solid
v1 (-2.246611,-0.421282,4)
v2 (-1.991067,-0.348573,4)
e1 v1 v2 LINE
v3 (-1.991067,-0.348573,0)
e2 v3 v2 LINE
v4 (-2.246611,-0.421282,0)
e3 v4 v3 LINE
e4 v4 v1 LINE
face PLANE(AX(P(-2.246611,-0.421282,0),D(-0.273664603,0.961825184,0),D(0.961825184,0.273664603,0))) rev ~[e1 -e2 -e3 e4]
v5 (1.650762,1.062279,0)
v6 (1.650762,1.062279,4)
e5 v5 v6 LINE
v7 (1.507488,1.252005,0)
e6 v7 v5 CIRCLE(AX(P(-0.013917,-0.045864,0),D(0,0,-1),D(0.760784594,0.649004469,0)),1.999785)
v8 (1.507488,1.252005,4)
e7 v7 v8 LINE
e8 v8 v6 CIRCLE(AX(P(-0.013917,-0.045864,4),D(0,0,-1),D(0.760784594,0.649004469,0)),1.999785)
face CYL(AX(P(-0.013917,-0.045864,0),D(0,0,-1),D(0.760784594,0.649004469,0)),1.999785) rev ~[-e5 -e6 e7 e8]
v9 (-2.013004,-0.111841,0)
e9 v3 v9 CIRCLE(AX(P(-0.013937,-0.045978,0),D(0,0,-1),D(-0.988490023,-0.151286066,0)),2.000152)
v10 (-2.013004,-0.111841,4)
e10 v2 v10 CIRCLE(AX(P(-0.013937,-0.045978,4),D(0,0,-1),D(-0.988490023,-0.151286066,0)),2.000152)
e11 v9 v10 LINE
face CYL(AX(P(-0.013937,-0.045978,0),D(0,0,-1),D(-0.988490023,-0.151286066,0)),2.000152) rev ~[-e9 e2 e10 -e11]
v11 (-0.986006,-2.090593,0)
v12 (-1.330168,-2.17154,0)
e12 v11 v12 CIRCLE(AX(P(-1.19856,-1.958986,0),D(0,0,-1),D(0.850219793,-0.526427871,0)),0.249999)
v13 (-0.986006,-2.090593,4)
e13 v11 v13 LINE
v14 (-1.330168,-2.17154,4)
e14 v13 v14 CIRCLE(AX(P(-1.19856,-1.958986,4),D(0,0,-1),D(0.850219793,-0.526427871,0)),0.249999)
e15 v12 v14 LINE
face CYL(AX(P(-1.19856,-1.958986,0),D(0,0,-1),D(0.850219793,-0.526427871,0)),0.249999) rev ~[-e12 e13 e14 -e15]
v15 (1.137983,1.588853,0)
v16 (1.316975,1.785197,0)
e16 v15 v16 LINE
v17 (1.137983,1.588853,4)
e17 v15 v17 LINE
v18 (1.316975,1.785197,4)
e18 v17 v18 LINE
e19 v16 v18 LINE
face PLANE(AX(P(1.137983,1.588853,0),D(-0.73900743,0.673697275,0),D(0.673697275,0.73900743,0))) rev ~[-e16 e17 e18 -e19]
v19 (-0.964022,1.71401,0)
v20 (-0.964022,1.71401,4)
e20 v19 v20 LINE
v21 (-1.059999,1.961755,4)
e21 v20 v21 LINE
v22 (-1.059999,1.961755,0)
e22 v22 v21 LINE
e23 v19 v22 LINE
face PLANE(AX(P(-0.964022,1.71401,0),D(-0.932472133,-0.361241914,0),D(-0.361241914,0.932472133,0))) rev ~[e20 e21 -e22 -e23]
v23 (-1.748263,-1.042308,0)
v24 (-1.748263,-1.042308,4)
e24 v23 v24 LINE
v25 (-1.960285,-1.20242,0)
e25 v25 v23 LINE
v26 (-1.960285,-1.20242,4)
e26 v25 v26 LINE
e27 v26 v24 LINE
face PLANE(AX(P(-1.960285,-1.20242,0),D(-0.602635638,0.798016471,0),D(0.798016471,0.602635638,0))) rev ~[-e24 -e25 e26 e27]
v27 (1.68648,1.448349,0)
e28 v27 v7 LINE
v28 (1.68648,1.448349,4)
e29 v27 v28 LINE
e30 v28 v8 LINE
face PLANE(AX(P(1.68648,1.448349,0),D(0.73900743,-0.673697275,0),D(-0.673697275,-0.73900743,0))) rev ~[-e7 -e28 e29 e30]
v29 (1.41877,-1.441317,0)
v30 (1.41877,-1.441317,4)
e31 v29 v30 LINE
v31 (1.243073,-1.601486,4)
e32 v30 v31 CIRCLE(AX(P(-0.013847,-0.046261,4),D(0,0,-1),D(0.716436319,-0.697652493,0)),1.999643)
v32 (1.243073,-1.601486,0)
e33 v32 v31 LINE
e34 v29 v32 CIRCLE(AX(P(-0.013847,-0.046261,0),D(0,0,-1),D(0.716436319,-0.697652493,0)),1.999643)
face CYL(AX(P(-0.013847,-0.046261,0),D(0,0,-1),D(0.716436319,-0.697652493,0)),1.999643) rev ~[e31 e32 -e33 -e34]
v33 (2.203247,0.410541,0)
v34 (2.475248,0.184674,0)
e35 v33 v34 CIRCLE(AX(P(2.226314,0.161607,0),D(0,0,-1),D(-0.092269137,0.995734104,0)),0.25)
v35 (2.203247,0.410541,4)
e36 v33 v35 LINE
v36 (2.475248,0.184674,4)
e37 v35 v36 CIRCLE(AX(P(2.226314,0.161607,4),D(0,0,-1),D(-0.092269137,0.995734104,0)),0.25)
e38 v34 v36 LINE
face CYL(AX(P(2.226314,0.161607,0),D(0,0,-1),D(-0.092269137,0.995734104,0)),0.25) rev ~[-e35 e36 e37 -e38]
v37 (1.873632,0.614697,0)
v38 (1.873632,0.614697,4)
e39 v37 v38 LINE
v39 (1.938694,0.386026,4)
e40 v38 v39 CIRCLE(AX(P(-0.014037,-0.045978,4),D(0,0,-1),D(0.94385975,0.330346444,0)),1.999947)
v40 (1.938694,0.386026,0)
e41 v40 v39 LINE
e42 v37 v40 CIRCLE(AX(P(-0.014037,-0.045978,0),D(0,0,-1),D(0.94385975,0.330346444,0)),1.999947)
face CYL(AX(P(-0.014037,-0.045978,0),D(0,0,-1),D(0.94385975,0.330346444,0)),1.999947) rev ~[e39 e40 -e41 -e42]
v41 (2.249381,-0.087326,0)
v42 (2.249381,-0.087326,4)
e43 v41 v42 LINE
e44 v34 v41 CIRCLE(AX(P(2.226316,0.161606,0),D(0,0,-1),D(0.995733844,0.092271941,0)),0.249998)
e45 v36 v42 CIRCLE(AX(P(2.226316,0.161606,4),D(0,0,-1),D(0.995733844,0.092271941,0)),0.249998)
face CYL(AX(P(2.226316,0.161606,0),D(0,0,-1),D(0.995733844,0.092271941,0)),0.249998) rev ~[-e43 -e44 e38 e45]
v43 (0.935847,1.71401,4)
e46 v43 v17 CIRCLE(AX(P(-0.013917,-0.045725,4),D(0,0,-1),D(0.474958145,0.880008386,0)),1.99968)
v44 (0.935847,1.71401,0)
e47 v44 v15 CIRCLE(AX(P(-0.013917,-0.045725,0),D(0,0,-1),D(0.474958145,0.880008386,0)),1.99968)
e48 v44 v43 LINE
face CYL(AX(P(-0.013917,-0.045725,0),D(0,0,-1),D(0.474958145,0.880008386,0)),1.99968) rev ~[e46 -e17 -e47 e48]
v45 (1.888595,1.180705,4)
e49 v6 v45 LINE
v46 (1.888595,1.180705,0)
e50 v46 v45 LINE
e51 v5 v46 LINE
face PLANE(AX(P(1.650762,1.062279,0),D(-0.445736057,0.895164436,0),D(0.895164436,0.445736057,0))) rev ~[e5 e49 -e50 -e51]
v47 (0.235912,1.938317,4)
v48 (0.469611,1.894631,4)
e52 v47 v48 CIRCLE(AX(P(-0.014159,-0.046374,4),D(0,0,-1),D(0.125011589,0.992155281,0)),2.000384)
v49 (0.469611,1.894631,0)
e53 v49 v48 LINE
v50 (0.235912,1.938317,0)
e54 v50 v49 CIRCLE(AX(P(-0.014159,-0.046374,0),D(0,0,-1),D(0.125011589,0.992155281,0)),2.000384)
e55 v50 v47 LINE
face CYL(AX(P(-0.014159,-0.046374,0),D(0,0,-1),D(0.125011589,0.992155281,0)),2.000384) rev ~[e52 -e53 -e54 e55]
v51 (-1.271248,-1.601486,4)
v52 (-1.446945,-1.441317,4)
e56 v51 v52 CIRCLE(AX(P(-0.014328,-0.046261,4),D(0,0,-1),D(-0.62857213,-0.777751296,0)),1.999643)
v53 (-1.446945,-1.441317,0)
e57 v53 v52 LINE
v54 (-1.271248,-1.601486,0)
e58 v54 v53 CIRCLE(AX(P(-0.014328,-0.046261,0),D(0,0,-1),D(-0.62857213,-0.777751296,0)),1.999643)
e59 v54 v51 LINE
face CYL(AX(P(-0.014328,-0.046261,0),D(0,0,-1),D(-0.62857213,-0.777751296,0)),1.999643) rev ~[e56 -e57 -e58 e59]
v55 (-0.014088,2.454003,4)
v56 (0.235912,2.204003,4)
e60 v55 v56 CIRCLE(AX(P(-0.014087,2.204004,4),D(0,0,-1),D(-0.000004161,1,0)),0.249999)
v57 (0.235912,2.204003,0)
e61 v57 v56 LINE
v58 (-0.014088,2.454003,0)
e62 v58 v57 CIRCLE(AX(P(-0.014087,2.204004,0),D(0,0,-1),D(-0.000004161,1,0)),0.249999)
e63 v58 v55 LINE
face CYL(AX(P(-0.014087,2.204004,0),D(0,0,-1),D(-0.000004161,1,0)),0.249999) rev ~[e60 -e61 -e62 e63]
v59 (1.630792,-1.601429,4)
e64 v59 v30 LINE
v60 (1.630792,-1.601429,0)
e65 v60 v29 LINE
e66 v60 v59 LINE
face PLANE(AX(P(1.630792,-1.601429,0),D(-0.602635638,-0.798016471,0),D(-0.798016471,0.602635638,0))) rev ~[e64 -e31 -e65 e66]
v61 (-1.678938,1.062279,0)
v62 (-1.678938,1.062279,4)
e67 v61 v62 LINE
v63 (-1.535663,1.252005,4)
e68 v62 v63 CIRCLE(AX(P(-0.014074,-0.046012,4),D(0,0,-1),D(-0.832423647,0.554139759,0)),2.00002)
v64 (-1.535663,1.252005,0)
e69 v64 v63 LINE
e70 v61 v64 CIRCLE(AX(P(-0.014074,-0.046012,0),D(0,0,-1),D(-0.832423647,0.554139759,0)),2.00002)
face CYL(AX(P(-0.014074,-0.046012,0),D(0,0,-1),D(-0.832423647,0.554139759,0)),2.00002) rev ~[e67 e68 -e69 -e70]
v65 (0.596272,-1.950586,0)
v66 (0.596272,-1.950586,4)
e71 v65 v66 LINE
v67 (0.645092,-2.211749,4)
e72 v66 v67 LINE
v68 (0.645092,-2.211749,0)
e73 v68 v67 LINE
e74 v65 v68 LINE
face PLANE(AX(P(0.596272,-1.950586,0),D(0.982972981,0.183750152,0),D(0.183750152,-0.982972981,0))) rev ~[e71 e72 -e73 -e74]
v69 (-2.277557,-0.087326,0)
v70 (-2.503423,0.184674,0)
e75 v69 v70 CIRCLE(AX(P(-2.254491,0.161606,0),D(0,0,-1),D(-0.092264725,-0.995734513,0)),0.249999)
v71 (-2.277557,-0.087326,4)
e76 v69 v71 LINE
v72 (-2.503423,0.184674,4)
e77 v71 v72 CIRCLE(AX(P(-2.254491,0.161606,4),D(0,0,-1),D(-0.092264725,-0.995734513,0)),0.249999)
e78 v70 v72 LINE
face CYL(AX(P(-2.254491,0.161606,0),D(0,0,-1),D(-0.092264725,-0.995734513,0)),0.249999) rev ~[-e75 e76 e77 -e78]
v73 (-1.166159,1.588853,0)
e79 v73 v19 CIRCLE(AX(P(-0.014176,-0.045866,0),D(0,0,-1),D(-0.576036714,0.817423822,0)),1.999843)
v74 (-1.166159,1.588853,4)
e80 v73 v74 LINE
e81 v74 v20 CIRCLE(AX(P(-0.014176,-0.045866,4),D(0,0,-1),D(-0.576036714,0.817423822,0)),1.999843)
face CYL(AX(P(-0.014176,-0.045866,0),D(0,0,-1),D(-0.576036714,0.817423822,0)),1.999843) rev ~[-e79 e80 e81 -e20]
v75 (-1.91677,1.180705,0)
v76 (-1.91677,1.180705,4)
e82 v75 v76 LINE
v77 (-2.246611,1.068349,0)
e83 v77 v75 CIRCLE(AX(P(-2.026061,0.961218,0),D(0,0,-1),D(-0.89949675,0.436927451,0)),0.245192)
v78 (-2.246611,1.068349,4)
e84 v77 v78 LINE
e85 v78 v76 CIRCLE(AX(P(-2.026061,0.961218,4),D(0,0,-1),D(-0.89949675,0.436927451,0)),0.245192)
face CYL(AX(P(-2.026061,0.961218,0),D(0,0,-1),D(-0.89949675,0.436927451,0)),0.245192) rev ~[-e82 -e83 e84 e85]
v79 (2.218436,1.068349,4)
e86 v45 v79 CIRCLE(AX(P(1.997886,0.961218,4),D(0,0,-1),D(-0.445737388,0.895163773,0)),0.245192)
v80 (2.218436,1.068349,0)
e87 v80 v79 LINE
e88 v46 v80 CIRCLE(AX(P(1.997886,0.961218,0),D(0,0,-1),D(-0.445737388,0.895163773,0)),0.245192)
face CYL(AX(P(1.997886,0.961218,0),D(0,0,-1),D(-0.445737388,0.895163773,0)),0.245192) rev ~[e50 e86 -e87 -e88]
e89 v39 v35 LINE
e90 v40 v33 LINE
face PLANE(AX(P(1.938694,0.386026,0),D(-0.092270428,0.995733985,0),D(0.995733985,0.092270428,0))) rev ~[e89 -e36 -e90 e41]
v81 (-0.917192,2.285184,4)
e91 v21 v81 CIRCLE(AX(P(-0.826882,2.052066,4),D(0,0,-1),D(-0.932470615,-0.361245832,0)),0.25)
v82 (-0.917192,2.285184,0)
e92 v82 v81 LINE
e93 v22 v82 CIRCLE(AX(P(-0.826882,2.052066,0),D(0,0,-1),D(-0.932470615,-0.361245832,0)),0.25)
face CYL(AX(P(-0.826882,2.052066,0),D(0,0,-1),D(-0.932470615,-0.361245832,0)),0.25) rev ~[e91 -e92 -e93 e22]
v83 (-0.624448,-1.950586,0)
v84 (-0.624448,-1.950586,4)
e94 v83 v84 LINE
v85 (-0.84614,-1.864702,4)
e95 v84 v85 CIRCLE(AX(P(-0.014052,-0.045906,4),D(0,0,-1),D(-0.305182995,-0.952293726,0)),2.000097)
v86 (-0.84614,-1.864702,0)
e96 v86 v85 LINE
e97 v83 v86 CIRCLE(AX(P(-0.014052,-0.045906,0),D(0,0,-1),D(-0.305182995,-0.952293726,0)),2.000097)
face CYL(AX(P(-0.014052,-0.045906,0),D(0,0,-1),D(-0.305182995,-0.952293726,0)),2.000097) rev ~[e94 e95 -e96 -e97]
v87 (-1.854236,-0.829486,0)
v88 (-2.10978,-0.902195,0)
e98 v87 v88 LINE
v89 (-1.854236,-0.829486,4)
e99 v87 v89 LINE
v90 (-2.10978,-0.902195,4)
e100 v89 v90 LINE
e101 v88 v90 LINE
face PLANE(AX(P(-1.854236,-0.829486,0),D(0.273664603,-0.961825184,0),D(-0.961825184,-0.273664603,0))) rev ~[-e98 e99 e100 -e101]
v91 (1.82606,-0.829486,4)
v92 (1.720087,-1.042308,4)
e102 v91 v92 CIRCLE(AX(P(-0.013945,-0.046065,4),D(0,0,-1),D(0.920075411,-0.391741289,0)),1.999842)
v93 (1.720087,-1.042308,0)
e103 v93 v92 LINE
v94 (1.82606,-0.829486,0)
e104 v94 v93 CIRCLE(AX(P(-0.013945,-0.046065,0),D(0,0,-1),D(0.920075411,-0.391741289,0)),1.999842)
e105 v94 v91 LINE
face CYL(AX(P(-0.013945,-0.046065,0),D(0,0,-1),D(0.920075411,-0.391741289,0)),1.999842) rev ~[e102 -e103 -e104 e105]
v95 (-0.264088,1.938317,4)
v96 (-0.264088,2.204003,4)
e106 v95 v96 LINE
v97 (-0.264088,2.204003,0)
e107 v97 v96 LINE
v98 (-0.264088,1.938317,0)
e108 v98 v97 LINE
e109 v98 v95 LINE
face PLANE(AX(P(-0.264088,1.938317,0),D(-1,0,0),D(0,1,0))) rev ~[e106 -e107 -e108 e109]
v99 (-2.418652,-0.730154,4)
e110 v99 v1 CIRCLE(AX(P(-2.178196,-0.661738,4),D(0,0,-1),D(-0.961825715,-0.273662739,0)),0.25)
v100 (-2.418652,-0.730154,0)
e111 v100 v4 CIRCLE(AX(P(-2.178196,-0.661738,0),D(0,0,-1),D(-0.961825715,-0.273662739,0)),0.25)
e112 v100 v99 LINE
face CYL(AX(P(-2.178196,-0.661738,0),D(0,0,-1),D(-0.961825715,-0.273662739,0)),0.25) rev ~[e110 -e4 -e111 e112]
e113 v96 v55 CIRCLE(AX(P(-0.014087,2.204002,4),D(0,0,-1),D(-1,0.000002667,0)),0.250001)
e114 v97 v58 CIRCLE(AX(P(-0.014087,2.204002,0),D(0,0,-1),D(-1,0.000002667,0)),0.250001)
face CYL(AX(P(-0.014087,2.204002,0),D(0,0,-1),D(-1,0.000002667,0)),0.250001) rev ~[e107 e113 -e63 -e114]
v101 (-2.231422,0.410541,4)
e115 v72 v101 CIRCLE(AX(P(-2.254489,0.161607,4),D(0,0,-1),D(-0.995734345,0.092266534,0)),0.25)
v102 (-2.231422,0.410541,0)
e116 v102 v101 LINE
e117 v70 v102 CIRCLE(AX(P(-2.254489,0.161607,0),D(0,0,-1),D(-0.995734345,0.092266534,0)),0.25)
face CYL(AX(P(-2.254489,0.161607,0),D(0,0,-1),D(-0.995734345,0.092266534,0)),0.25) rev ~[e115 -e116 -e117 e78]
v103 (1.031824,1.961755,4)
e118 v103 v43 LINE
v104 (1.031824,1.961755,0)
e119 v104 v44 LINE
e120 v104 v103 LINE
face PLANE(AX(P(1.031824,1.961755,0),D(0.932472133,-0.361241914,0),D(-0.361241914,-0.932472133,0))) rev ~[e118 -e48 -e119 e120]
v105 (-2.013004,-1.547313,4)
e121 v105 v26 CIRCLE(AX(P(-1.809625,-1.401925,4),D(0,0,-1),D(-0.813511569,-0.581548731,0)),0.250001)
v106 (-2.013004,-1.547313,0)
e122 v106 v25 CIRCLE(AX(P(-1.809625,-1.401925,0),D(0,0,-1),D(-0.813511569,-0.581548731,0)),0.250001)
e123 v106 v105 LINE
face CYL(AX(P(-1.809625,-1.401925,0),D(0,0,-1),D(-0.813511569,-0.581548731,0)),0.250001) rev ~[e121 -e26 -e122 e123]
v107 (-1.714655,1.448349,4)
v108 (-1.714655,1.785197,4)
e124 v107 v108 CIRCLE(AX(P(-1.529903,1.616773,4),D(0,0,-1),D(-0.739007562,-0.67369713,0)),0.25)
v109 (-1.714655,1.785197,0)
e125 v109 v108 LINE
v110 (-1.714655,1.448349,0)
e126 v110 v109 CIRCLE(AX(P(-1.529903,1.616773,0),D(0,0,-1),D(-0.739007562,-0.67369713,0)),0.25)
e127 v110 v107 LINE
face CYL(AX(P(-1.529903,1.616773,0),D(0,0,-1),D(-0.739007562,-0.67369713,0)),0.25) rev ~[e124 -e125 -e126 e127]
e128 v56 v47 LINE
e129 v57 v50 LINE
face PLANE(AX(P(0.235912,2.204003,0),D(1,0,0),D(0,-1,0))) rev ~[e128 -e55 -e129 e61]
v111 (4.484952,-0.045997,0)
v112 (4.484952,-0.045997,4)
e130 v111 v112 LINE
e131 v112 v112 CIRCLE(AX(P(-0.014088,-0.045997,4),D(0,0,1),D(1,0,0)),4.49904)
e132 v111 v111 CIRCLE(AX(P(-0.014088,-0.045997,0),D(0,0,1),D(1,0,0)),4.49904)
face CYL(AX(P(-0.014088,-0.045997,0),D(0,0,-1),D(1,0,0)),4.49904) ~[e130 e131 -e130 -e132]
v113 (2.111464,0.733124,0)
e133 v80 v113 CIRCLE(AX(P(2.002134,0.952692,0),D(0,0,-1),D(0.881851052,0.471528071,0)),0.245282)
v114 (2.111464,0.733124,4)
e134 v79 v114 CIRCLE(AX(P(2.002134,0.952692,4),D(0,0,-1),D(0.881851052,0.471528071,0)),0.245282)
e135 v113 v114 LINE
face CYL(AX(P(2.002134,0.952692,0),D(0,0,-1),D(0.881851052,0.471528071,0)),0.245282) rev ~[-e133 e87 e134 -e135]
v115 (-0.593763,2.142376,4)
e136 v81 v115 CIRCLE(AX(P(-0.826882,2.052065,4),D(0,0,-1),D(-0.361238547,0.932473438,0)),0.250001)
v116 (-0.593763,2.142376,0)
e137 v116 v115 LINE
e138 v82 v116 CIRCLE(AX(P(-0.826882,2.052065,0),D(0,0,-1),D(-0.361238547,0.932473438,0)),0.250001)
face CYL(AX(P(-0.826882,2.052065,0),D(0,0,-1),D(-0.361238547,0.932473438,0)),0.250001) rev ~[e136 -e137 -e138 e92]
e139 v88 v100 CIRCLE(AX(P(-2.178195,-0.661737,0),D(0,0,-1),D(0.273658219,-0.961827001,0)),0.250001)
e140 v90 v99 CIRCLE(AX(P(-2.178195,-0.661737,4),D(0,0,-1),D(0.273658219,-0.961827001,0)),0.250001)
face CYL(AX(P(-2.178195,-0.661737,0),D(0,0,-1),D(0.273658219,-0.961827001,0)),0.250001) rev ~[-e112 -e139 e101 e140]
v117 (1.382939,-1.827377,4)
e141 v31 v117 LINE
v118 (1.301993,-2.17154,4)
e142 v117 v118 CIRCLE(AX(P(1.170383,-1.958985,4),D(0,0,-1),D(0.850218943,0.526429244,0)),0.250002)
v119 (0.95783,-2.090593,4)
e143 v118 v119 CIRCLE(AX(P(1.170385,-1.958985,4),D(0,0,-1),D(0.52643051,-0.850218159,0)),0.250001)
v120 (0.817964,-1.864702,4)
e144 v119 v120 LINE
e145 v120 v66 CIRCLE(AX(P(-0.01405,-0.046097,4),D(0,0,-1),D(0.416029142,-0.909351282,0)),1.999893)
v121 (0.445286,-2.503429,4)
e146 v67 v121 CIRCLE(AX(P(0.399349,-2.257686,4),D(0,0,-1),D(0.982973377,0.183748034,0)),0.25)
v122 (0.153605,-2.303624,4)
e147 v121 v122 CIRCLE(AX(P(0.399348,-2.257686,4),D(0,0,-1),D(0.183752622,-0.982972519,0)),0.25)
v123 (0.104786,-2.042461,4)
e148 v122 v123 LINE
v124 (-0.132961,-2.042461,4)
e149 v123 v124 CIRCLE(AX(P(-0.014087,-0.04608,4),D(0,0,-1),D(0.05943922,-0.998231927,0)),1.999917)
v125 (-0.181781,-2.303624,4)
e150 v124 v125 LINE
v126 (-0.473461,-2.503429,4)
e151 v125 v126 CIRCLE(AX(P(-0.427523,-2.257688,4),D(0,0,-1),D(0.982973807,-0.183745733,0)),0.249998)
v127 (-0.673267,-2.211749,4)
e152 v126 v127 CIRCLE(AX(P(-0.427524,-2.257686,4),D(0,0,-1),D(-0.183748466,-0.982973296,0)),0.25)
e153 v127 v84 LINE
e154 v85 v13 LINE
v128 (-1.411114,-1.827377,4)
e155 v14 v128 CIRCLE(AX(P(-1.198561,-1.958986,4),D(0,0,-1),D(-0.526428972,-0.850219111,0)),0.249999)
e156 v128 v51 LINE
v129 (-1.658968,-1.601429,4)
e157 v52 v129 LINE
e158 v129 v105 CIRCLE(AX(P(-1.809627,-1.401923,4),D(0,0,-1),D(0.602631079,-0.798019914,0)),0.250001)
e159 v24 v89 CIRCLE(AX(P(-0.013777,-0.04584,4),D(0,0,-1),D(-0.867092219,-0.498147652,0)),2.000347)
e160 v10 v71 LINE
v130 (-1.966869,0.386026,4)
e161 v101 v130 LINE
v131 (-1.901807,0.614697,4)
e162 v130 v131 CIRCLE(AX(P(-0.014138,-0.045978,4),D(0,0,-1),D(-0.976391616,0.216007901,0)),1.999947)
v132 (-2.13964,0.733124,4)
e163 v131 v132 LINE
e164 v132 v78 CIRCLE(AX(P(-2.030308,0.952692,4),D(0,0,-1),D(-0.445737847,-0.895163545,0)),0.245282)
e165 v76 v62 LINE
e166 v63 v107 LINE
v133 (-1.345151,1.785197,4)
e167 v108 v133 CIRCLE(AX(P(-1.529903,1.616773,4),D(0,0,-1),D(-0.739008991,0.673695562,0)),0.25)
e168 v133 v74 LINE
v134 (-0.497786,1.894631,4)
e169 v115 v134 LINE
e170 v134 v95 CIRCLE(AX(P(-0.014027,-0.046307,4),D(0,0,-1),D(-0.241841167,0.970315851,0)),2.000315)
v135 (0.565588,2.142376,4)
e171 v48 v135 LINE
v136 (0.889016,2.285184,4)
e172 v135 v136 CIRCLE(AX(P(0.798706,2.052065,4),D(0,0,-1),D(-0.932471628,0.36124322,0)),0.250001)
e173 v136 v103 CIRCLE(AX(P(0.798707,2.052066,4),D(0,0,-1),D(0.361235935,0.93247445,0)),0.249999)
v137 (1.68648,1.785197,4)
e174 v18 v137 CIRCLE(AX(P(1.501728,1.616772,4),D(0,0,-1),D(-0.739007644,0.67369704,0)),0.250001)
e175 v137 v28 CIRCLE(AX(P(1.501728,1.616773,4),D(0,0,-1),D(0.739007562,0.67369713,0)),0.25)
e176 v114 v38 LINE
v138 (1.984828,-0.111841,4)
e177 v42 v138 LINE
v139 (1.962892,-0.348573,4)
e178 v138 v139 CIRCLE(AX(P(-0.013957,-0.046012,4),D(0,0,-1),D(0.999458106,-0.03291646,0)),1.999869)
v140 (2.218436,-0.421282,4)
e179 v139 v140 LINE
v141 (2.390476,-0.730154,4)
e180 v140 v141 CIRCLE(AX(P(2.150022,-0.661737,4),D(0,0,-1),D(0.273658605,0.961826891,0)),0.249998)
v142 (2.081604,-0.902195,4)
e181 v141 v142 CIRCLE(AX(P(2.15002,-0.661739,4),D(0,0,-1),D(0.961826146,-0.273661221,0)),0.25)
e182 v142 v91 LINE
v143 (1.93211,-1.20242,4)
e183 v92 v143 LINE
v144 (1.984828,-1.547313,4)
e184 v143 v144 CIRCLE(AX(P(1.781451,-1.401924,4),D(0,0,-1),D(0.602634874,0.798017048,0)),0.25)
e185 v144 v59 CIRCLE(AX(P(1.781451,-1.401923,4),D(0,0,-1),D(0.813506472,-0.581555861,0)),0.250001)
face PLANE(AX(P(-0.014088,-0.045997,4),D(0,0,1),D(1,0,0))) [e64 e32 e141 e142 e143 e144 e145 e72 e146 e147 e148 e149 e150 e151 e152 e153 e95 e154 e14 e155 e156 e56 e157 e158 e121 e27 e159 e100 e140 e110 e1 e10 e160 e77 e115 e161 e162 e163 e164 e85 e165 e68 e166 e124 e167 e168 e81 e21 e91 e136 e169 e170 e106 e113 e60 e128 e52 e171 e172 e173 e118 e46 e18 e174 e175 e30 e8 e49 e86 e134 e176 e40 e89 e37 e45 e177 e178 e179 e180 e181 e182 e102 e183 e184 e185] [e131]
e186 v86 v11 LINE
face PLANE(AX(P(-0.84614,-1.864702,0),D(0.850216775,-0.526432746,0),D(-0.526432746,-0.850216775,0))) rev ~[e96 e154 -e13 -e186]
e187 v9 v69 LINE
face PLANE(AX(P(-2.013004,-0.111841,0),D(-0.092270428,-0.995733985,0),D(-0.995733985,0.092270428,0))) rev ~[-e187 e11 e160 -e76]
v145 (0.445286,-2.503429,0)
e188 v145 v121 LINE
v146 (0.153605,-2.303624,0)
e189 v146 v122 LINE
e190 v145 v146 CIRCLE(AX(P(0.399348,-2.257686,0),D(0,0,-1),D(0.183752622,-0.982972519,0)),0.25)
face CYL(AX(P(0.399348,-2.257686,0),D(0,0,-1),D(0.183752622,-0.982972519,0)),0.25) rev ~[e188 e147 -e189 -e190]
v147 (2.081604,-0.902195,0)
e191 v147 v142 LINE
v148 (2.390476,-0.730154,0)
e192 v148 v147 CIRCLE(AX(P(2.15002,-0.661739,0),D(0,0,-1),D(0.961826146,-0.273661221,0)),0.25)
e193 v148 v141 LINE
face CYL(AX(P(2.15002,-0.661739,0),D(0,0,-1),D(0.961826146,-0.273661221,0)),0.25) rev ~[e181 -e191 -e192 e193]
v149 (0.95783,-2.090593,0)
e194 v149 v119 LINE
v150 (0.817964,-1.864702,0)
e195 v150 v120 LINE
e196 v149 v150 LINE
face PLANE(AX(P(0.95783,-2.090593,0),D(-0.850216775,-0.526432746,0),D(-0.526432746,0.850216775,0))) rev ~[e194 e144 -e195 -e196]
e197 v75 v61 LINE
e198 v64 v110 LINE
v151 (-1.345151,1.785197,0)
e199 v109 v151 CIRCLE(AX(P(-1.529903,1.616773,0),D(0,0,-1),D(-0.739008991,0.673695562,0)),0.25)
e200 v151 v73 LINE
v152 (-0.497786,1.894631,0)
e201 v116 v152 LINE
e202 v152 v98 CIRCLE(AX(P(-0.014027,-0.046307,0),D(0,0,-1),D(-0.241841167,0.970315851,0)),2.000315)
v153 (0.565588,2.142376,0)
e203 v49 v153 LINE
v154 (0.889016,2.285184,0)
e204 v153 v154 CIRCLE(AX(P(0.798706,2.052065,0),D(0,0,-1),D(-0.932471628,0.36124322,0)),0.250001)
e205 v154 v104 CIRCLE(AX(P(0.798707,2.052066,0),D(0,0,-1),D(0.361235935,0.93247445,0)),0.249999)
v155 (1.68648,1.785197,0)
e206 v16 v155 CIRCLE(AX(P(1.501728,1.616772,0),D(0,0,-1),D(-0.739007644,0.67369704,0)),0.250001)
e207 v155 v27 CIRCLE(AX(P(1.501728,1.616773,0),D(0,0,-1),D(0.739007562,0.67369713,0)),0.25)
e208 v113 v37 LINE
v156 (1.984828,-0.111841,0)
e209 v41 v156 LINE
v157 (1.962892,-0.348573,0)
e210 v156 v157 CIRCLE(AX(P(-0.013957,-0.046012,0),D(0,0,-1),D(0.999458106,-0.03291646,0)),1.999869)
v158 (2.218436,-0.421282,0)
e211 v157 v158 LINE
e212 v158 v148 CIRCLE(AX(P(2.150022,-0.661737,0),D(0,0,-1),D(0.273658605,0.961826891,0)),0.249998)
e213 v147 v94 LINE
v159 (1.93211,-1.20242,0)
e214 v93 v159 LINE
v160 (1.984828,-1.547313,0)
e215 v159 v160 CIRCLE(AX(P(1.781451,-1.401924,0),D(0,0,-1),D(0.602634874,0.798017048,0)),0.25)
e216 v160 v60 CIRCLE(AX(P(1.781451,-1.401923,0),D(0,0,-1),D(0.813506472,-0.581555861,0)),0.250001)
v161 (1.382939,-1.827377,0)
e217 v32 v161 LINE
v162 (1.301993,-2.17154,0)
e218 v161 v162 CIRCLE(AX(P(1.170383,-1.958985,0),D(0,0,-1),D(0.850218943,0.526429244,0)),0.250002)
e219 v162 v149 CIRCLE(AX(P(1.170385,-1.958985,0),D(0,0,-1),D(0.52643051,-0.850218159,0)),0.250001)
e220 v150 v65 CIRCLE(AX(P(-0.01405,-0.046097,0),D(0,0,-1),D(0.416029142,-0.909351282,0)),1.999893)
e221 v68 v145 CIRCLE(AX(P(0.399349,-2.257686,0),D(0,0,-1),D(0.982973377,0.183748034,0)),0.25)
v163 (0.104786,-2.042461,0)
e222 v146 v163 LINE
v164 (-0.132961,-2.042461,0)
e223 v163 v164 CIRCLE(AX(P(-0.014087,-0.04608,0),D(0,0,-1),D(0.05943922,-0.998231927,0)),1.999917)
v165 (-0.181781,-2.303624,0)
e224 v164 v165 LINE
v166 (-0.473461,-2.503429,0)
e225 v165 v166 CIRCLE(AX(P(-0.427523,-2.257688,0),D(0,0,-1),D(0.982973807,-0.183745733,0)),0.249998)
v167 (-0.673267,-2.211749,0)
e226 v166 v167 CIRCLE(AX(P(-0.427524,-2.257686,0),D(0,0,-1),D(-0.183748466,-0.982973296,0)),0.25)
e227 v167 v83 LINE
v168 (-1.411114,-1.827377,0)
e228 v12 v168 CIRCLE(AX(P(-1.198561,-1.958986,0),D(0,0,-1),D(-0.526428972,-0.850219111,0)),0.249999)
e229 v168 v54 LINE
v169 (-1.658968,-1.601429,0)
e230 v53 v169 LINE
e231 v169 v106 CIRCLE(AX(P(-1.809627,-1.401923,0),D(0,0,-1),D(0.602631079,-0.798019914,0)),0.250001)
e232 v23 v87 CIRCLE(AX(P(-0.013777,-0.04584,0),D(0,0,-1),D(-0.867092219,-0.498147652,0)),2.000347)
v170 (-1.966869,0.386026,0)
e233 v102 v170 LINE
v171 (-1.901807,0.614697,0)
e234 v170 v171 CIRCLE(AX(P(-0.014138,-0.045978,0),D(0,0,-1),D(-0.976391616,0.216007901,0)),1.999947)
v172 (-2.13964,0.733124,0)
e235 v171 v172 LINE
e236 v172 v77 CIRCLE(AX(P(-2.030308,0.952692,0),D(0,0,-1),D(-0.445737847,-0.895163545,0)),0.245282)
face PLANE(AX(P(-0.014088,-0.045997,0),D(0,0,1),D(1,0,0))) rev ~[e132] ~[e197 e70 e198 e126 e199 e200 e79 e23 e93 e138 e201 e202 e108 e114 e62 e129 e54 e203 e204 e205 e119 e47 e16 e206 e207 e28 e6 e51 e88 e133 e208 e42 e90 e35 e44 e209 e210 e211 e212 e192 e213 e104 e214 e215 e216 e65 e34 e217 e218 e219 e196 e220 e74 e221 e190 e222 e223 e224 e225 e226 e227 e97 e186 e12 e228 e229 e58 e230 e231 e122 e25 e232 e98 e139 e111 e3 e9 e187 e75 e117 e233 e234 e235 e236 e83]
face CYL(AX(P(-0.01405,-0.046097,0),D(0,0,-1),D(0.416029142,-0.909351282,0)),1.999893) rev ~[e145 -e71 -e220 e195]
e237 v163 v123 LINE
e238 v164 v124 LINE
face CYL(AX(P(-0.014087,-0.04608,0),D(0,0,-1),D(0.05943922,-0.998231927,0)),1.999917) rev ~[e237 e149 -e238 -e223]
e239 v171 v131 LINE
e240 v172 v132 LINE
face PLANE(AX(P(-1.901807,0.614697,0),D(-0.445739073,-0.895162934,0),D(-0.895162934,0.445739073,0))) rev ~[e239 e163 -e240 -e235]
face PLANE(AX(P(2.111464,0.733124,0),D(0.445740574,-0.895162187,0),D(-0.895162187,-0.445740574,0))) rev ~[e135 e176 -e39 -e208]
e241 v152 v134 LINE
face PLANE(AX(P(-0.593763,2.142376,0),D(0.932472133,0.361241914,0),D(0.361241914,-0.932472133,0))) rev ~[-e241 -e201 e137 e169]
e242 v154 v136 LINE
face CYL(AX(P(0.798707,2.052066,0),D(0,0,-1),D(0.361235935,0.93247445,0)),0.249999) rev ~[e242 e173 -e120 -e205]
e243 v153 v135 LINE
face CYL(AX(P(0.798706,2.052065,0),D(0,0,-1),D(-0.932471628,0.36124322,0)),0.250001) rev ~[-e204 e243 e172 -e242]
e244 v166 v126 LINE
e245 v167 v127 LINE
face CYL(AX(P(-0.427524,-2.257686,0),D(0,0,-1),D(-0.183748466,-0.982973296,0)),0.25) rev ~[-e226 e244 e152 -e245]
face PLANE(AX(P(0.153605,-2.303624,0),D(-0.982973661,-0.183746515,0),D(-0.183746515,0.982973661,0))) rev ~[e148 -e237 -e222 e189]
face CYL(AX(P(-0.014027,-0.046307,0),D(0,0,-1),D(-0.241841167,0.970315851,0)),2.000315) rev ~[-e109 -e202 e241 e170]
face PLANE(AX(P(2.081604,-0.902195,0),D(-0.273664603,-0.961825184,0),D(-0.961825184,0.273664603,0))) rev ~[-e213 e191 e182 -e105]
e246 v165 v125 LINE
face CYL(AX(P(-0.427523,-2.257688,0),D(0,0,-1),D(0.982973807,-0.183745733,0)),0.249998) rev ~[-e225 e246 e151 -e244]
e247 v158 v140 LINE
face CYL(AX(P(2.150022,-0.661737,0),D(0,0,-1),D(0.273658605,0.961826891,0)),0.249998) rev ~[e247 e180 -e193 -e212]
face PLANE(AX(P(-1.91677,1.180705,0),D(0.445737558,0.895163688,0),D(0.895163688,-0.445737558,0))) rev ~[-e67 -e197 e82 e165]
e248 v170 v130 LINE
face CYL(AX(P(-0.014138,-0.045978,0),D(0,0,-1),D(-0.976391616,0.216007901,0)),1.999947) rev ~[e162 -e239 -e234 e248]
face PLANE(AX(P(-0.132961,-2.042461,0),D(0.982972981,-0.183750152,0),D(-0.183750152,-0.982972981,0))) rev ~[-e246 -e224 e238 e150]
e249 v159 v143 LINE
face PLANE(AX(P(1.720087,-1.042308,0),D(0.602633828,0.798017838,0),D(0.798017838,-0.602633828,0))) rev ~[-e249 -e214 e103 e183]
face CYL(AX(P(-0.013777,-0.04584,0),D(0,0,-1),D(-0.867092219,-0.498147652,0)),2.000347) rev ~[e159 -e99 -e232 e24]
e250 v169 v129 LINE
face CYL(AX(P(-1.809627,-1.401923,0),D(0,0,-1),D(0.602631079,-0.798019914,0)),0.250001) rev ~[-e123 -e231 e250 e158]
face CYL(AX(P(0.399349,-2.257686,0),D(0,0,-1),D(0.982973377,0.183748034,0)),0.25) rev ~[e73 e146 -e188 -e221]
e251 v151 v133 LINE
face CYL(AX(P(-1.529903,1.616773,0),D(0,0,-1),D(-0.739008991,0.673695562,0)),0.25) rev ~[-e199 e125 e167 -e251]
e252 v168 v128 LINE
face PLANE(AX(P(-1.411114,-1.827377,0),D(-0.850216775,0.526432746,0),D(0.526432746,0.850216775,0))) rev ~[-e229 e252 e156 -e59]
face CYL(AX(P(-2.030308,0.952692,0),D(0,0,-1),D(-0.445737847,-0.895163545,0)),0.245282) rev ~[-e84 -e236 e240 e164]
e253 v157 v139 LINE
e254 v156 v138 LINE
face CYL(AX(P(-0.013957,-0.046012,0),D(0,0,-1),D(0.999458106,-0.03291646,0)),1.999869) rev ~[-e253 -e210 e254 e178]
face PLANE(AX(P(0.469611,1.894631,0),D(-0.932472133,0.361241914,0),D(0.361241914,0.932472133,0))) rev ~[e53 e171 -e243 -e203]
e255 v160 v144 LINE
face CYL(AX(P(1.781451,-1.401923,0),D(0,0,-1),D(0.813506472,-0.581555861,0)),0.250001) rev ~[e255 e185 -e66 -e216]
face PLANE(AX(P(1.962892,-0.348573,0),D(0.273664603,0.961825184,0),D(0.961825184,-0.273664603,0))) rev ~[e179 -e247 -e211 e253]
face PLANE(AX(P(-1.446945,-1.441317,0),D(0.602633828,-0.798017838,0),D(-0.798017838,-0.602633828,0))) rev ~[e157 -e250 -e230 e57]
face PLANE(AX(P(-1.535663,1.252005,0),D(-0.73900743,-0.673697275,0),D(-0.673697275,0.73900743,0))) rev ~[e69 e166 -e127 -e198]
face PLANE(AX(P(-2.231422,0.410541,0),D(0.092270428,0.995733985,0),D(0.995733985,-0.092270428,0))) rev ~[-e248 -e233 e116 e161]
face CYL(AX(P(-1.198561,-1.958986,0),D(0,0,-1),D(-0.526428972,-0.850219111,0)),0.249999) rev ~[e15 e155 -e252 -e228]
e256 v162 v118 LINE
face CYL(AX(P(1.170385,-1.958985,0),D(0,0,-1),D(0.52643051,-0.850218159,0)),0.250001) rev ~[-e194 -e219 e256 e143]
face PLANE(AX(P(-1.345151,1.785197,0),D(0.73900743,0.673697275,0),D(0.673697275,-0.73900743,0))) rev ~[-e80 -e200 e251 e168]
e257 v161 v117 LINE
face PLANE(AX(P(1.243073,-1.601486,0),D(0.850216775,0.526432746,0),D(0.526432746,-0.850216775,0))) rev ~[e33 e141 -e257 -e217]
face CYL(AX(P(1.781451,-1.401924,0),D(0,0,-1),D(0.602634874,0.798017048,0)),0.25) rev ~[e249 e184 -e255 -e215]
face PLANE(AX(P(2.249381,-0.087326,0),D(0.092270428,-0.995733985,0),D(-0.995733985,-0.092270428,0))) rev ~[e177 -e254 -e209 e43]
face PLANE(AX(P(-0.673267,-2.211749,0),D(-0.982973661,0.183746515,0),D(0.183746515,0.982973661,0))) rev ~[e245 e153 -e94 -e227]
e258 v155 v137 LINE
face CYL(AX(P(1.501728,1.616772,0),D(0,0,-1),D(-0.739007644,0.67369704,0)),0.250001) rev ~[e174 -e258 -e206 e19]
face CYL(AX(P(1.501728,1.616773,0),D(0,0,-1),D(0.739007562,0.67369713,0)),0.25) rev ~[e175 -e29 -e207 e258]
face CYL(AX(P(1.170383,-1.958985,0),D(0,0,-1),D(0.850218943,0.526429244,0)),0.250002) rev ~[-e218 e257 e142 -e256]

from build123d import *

# Parameters (mm, degrees)
F0_R     = 4.49904
F1_DEPTH = 4


with BuildPart() as f1:
    # F0 (on Top) → F1 (new body)
    with BuildSketch(Plane.XY):
        with Locations((-0.014088, -0.045997)):
            Circle(F0_R)
        with BuildLine():
            ThreePointArc((1.873632, 0.614697), (1.909564, 0.501329), (1.938694, 0.386026))
            Line((1.938694, 0.386026), (2.203247, 0.410541))
            ThreePointArc((2.203247, 0.410541), (2.386026, 0.353941), (2.475248, 0.184674))
            ThreePointArc((2.475248, 0.184674), (2.418648, 0.001895), (2.249381, -0.087326))
            Line((2.249381, -0.087326), (1.984828, -0.111841))
            ThreePointArc((1.984828, -0.111841), (1.977381, -0.230533), (1.962892, -0.348573))
            Line((1.962892, -0.348573), (2.218436, -0.421282))
            ThreePointArc((2.218436, -0.421282), (2.368426, -0.540087), (2.390476, -0.730154))
            ThreePointArc((2.390476, -0.730154), (2.271671, -0.880144), (2.081604, -0.902195))
            Line((2.081604, -0.902195), (1.82606, -0.829486))
            ThreePointArc((1.82606, -0.829486), (1.776239, -0.937473), (1.720087, -1.042308))
            Line((1.720087, -1.042308), (1.93211, -1.20242))
            ThreePointArc((1.93211, -1.20242), (2.028581, -1.36415), (1.984828, -1.547313))
            ThreePointArc((1.984828, -1.547313), (1.819226, -1.649054), (1.630792, -1.601429))
            Line((1.630792, -1.601429), (1.41877, -1.441317))
            ThreePointArc((1.41877, -1.441317), (1.333304, -1.524015), (1.243073, -1.601486))
            Line((1.243073, -1.601486), (1.382939, -1.827377))
            ThreePointArc((1.382939, -1.827377), (1.413744, -2.016223), (1.301993, -2.17154))
            ThreePointArc((1.301993, -2.17154), (1.113147, -2.202345), (0.95783, -2.090593))
            Line((0.95783, -2.090593), (0.817964, -1.864702))
            ThreePointArc((0.817964, -1.864702), (0.708396, -1.910941), (0.596272, -1.950586))
            Line((0.596272, -1.950586), (0.645092, -2.211749))
            ThreePointArc((0.645092, -2.211749), (0.605598, -2.39897), (0.445286, -2.503429))
            ThreePointArc((0.445286, -2.503429), (0.258065, -2.463936), (0.153605, -2.303624))
            Line((0.153605, -2.303624), (0.104786, -2.042461))
            ThreePointArc((0.104786, -2.042461), (-0.014088, -2.045997), (-0.132961, -2.042461))
            Line((-0.132961, -2.042461), (-0.181781, -2.303624))
            ThreePointArc((-0.181781, -2.303624), (-0.28624, -2.463936), (-0.473461, -2.503429))
            ThreePointArc((-0.473461, -2.503429), (-0.633773, -2.39897), (-0.673267, -2.211749))
            Line((-0.673267, -2.211749), (-0.624448, -1.950586))
            ThreePointArc((-0.624448, -1.950586), (-0.736571, -1.910941), (-0.84614, -1.864702))
            Line((-0.84614, -1.864702), (-0.986006, -2.090593))
            ThreePointArc((-0.986006, -2.090593), (-1.141322, -2.202345), (-1.330168, -2.17154))
            ThreePointArc((-1.330168, -2.17154), (-1.44192, -2.016223), (-1.411114, -1.827377))
            Line((-1.411114, -1.827377), (-1.271248, -1.601486))
            ThreePointArc((-1.271248, -1.601486), (-1.361479, -1.524015), (-1.446945, -1.441317))
            Line((-1.446945, -1.441317), (-1.658968, -1.601429))
            ThreePointArc((-1.658968, -1.601429), (-1.847401, -1.649054), (-2.013004, -1.547313))
            ThreePointArc((-2.013004, -1.547313), (-2.056756, -1.36415), (-1.960285, -1.20242))
            Line((-1.960285, -1.20242), (-1.748263, -1.042308))
            ThreePointArc((-1.748263, -1.042308), (-1.804414, -0.937473), (-1.854236, -0.829486))
            Line((-1.854236, -0.829486), (-2.10978, -0.902195))
            ThreePointArc((-2.10978, -0.902195), (-2.299846, -0.880144), (-2.418652, -0.730154))
            ThreePointArc((-2.418652, -0.730154), (-2.396601, -0.540087), (-2.246611, -0.421282))
            Line((-2.246611, -0.421282), (-1.991067, -0.348573))
            ThreePointArc((-1.991067, -0.348573), (-2.005556, -0.230533), (-2.013004, -0.111841))
            Line((-2.013004, -0.111841), (-2.277557, -0.087326))
            ThreePointArc((-2.277557, -0.087326), (-2.446823, 0.001895), (-2.503423, 0.184674))
            ThreePointArc((-2.503423, 0.184674), (-2.414201, 0.353941), (-2.231422, 0.410541))
            Line((-2.231422, 0.410541), (-1.966869, 0.386026))
            ThreePointArc((-1.966869, 0.386026), (-1.937739, 0.501329), (-1.901807, 0.614697))
            Line((-1.901807, 0.614697), (-2.13964, 0.733124))
            ThreePointArc((-2.13964, 0.733124), (-2.263982, 0.878126), (-2.246611, 1.068349))
            ThreePointArc((-2.246611, 1.068349), (-2.105122, 1.193314), (-1.91677, 1.180705))
            Line((-1.91677, 1.180705), (-1.678938, 1.062279))
            ThreePointArc((-1.678938, 1.062279), (-1.610122, 1.159273), (-1.535663, 1.252005))
            Line((-1.535663, 1.252005), (-1.714655, 1.448349))
            ThreePointArc((-1.714655, 1.448349), (-1.779903, 1.616773), (-1.714655, 1.785197))
            ThreePointArc((-1.714655, 1.785197), (-1.529903, 1.866773), (-1.345151, 1.785197))
            Line((-1.345151, 1.785197), (-1.166159, 1.588853))
            ThreePointArc((-1.166159, 1.588853), (-1.066952, 1.654438), (-0.964022, 1.71401))
            Line((-0.964022, 1.71401), (-1.059999, 1.961755))
            ThreePointArc((-1.059999, 1.961755), (-1.05558, 2.153046), (-0.917192, 2.285184))
            ThreePointArc((-0.917192, 2.285184), (-0.725901, 2.280764), (-0.593763, 2.142376))
            Line((-0.593763, 2.142376), (-0.497786, 1.894631))
            ThreePointArc((-0.497786, 1.894631), (-0.381587, 1.919949), (-0.264088, 1.938317))
            Line((-0.264088, 1.938317), (-0.264088, 2.204003))
            ThreePointArc((-0.264088, 2.204003), (-0.190864, 2.38078), (-0.014088, 2.454003))
            ThreePointArc((-0.014088, 2.454003), (0.162689, 2.38078), (0.235912, 2.204003))
            Line((0.235912, 2.204003), (0.235912, 1.938317))
            ThreePointArc((0.235912, 1.938317), (0.353411, 1.919949), (0.469611, 1.894631))
            Line((0.469611, 1.894631), (0.565588, 2.142376))
            ThreePointArc((0.565588, 2.142376), (0.697726, 2.280764), (0.889016, 2.285184))
            ThreePointArc((0.889016, 2.285184), (1.027405, 2.153046), (1.031824, 1.961755))
            Line((1.031824, 1.961755), (0.935847, 1.71401))
            ThreePointArc((0.935847, 1.71401), (1.038777, 1.654438), (1.137983, 1.588853))
            Line((1.137983, 1.588853), (1.316975, 1.785197))
            ThreePointArc((1.316975, 1.785197), (1.501728, 1.866773), (1.68648, 1.785197))
            ThreePointArc((1.68648, 1.785197), (1.751728, 1.616773), (1.68648, 1.448349))
            Line((1.68648, 1.448349), (1.507488, 1.252005))
            ThreePointArc((1.507488, 1.252005), (1.581947, 1.159273), (1.650762, 1.062279))
            Line((1.650762, 1.062279), (1.888595, 1.180705))
            ThreePointArc((1.888595, 1.180705), (2.076947, 1.193314), (2.218436, 1.068349))
            ThreePointArc((2.218436, 1.068349), (2.235807, 0.878126), (2.111464, 0.733124))
            Line((2.111464, 0.733124), (1.873632, 0.614697))
        make_face(mode=Mode.SUBTRACT)
    extrude(amount=F1_DEPTH)


solid = f1.part
